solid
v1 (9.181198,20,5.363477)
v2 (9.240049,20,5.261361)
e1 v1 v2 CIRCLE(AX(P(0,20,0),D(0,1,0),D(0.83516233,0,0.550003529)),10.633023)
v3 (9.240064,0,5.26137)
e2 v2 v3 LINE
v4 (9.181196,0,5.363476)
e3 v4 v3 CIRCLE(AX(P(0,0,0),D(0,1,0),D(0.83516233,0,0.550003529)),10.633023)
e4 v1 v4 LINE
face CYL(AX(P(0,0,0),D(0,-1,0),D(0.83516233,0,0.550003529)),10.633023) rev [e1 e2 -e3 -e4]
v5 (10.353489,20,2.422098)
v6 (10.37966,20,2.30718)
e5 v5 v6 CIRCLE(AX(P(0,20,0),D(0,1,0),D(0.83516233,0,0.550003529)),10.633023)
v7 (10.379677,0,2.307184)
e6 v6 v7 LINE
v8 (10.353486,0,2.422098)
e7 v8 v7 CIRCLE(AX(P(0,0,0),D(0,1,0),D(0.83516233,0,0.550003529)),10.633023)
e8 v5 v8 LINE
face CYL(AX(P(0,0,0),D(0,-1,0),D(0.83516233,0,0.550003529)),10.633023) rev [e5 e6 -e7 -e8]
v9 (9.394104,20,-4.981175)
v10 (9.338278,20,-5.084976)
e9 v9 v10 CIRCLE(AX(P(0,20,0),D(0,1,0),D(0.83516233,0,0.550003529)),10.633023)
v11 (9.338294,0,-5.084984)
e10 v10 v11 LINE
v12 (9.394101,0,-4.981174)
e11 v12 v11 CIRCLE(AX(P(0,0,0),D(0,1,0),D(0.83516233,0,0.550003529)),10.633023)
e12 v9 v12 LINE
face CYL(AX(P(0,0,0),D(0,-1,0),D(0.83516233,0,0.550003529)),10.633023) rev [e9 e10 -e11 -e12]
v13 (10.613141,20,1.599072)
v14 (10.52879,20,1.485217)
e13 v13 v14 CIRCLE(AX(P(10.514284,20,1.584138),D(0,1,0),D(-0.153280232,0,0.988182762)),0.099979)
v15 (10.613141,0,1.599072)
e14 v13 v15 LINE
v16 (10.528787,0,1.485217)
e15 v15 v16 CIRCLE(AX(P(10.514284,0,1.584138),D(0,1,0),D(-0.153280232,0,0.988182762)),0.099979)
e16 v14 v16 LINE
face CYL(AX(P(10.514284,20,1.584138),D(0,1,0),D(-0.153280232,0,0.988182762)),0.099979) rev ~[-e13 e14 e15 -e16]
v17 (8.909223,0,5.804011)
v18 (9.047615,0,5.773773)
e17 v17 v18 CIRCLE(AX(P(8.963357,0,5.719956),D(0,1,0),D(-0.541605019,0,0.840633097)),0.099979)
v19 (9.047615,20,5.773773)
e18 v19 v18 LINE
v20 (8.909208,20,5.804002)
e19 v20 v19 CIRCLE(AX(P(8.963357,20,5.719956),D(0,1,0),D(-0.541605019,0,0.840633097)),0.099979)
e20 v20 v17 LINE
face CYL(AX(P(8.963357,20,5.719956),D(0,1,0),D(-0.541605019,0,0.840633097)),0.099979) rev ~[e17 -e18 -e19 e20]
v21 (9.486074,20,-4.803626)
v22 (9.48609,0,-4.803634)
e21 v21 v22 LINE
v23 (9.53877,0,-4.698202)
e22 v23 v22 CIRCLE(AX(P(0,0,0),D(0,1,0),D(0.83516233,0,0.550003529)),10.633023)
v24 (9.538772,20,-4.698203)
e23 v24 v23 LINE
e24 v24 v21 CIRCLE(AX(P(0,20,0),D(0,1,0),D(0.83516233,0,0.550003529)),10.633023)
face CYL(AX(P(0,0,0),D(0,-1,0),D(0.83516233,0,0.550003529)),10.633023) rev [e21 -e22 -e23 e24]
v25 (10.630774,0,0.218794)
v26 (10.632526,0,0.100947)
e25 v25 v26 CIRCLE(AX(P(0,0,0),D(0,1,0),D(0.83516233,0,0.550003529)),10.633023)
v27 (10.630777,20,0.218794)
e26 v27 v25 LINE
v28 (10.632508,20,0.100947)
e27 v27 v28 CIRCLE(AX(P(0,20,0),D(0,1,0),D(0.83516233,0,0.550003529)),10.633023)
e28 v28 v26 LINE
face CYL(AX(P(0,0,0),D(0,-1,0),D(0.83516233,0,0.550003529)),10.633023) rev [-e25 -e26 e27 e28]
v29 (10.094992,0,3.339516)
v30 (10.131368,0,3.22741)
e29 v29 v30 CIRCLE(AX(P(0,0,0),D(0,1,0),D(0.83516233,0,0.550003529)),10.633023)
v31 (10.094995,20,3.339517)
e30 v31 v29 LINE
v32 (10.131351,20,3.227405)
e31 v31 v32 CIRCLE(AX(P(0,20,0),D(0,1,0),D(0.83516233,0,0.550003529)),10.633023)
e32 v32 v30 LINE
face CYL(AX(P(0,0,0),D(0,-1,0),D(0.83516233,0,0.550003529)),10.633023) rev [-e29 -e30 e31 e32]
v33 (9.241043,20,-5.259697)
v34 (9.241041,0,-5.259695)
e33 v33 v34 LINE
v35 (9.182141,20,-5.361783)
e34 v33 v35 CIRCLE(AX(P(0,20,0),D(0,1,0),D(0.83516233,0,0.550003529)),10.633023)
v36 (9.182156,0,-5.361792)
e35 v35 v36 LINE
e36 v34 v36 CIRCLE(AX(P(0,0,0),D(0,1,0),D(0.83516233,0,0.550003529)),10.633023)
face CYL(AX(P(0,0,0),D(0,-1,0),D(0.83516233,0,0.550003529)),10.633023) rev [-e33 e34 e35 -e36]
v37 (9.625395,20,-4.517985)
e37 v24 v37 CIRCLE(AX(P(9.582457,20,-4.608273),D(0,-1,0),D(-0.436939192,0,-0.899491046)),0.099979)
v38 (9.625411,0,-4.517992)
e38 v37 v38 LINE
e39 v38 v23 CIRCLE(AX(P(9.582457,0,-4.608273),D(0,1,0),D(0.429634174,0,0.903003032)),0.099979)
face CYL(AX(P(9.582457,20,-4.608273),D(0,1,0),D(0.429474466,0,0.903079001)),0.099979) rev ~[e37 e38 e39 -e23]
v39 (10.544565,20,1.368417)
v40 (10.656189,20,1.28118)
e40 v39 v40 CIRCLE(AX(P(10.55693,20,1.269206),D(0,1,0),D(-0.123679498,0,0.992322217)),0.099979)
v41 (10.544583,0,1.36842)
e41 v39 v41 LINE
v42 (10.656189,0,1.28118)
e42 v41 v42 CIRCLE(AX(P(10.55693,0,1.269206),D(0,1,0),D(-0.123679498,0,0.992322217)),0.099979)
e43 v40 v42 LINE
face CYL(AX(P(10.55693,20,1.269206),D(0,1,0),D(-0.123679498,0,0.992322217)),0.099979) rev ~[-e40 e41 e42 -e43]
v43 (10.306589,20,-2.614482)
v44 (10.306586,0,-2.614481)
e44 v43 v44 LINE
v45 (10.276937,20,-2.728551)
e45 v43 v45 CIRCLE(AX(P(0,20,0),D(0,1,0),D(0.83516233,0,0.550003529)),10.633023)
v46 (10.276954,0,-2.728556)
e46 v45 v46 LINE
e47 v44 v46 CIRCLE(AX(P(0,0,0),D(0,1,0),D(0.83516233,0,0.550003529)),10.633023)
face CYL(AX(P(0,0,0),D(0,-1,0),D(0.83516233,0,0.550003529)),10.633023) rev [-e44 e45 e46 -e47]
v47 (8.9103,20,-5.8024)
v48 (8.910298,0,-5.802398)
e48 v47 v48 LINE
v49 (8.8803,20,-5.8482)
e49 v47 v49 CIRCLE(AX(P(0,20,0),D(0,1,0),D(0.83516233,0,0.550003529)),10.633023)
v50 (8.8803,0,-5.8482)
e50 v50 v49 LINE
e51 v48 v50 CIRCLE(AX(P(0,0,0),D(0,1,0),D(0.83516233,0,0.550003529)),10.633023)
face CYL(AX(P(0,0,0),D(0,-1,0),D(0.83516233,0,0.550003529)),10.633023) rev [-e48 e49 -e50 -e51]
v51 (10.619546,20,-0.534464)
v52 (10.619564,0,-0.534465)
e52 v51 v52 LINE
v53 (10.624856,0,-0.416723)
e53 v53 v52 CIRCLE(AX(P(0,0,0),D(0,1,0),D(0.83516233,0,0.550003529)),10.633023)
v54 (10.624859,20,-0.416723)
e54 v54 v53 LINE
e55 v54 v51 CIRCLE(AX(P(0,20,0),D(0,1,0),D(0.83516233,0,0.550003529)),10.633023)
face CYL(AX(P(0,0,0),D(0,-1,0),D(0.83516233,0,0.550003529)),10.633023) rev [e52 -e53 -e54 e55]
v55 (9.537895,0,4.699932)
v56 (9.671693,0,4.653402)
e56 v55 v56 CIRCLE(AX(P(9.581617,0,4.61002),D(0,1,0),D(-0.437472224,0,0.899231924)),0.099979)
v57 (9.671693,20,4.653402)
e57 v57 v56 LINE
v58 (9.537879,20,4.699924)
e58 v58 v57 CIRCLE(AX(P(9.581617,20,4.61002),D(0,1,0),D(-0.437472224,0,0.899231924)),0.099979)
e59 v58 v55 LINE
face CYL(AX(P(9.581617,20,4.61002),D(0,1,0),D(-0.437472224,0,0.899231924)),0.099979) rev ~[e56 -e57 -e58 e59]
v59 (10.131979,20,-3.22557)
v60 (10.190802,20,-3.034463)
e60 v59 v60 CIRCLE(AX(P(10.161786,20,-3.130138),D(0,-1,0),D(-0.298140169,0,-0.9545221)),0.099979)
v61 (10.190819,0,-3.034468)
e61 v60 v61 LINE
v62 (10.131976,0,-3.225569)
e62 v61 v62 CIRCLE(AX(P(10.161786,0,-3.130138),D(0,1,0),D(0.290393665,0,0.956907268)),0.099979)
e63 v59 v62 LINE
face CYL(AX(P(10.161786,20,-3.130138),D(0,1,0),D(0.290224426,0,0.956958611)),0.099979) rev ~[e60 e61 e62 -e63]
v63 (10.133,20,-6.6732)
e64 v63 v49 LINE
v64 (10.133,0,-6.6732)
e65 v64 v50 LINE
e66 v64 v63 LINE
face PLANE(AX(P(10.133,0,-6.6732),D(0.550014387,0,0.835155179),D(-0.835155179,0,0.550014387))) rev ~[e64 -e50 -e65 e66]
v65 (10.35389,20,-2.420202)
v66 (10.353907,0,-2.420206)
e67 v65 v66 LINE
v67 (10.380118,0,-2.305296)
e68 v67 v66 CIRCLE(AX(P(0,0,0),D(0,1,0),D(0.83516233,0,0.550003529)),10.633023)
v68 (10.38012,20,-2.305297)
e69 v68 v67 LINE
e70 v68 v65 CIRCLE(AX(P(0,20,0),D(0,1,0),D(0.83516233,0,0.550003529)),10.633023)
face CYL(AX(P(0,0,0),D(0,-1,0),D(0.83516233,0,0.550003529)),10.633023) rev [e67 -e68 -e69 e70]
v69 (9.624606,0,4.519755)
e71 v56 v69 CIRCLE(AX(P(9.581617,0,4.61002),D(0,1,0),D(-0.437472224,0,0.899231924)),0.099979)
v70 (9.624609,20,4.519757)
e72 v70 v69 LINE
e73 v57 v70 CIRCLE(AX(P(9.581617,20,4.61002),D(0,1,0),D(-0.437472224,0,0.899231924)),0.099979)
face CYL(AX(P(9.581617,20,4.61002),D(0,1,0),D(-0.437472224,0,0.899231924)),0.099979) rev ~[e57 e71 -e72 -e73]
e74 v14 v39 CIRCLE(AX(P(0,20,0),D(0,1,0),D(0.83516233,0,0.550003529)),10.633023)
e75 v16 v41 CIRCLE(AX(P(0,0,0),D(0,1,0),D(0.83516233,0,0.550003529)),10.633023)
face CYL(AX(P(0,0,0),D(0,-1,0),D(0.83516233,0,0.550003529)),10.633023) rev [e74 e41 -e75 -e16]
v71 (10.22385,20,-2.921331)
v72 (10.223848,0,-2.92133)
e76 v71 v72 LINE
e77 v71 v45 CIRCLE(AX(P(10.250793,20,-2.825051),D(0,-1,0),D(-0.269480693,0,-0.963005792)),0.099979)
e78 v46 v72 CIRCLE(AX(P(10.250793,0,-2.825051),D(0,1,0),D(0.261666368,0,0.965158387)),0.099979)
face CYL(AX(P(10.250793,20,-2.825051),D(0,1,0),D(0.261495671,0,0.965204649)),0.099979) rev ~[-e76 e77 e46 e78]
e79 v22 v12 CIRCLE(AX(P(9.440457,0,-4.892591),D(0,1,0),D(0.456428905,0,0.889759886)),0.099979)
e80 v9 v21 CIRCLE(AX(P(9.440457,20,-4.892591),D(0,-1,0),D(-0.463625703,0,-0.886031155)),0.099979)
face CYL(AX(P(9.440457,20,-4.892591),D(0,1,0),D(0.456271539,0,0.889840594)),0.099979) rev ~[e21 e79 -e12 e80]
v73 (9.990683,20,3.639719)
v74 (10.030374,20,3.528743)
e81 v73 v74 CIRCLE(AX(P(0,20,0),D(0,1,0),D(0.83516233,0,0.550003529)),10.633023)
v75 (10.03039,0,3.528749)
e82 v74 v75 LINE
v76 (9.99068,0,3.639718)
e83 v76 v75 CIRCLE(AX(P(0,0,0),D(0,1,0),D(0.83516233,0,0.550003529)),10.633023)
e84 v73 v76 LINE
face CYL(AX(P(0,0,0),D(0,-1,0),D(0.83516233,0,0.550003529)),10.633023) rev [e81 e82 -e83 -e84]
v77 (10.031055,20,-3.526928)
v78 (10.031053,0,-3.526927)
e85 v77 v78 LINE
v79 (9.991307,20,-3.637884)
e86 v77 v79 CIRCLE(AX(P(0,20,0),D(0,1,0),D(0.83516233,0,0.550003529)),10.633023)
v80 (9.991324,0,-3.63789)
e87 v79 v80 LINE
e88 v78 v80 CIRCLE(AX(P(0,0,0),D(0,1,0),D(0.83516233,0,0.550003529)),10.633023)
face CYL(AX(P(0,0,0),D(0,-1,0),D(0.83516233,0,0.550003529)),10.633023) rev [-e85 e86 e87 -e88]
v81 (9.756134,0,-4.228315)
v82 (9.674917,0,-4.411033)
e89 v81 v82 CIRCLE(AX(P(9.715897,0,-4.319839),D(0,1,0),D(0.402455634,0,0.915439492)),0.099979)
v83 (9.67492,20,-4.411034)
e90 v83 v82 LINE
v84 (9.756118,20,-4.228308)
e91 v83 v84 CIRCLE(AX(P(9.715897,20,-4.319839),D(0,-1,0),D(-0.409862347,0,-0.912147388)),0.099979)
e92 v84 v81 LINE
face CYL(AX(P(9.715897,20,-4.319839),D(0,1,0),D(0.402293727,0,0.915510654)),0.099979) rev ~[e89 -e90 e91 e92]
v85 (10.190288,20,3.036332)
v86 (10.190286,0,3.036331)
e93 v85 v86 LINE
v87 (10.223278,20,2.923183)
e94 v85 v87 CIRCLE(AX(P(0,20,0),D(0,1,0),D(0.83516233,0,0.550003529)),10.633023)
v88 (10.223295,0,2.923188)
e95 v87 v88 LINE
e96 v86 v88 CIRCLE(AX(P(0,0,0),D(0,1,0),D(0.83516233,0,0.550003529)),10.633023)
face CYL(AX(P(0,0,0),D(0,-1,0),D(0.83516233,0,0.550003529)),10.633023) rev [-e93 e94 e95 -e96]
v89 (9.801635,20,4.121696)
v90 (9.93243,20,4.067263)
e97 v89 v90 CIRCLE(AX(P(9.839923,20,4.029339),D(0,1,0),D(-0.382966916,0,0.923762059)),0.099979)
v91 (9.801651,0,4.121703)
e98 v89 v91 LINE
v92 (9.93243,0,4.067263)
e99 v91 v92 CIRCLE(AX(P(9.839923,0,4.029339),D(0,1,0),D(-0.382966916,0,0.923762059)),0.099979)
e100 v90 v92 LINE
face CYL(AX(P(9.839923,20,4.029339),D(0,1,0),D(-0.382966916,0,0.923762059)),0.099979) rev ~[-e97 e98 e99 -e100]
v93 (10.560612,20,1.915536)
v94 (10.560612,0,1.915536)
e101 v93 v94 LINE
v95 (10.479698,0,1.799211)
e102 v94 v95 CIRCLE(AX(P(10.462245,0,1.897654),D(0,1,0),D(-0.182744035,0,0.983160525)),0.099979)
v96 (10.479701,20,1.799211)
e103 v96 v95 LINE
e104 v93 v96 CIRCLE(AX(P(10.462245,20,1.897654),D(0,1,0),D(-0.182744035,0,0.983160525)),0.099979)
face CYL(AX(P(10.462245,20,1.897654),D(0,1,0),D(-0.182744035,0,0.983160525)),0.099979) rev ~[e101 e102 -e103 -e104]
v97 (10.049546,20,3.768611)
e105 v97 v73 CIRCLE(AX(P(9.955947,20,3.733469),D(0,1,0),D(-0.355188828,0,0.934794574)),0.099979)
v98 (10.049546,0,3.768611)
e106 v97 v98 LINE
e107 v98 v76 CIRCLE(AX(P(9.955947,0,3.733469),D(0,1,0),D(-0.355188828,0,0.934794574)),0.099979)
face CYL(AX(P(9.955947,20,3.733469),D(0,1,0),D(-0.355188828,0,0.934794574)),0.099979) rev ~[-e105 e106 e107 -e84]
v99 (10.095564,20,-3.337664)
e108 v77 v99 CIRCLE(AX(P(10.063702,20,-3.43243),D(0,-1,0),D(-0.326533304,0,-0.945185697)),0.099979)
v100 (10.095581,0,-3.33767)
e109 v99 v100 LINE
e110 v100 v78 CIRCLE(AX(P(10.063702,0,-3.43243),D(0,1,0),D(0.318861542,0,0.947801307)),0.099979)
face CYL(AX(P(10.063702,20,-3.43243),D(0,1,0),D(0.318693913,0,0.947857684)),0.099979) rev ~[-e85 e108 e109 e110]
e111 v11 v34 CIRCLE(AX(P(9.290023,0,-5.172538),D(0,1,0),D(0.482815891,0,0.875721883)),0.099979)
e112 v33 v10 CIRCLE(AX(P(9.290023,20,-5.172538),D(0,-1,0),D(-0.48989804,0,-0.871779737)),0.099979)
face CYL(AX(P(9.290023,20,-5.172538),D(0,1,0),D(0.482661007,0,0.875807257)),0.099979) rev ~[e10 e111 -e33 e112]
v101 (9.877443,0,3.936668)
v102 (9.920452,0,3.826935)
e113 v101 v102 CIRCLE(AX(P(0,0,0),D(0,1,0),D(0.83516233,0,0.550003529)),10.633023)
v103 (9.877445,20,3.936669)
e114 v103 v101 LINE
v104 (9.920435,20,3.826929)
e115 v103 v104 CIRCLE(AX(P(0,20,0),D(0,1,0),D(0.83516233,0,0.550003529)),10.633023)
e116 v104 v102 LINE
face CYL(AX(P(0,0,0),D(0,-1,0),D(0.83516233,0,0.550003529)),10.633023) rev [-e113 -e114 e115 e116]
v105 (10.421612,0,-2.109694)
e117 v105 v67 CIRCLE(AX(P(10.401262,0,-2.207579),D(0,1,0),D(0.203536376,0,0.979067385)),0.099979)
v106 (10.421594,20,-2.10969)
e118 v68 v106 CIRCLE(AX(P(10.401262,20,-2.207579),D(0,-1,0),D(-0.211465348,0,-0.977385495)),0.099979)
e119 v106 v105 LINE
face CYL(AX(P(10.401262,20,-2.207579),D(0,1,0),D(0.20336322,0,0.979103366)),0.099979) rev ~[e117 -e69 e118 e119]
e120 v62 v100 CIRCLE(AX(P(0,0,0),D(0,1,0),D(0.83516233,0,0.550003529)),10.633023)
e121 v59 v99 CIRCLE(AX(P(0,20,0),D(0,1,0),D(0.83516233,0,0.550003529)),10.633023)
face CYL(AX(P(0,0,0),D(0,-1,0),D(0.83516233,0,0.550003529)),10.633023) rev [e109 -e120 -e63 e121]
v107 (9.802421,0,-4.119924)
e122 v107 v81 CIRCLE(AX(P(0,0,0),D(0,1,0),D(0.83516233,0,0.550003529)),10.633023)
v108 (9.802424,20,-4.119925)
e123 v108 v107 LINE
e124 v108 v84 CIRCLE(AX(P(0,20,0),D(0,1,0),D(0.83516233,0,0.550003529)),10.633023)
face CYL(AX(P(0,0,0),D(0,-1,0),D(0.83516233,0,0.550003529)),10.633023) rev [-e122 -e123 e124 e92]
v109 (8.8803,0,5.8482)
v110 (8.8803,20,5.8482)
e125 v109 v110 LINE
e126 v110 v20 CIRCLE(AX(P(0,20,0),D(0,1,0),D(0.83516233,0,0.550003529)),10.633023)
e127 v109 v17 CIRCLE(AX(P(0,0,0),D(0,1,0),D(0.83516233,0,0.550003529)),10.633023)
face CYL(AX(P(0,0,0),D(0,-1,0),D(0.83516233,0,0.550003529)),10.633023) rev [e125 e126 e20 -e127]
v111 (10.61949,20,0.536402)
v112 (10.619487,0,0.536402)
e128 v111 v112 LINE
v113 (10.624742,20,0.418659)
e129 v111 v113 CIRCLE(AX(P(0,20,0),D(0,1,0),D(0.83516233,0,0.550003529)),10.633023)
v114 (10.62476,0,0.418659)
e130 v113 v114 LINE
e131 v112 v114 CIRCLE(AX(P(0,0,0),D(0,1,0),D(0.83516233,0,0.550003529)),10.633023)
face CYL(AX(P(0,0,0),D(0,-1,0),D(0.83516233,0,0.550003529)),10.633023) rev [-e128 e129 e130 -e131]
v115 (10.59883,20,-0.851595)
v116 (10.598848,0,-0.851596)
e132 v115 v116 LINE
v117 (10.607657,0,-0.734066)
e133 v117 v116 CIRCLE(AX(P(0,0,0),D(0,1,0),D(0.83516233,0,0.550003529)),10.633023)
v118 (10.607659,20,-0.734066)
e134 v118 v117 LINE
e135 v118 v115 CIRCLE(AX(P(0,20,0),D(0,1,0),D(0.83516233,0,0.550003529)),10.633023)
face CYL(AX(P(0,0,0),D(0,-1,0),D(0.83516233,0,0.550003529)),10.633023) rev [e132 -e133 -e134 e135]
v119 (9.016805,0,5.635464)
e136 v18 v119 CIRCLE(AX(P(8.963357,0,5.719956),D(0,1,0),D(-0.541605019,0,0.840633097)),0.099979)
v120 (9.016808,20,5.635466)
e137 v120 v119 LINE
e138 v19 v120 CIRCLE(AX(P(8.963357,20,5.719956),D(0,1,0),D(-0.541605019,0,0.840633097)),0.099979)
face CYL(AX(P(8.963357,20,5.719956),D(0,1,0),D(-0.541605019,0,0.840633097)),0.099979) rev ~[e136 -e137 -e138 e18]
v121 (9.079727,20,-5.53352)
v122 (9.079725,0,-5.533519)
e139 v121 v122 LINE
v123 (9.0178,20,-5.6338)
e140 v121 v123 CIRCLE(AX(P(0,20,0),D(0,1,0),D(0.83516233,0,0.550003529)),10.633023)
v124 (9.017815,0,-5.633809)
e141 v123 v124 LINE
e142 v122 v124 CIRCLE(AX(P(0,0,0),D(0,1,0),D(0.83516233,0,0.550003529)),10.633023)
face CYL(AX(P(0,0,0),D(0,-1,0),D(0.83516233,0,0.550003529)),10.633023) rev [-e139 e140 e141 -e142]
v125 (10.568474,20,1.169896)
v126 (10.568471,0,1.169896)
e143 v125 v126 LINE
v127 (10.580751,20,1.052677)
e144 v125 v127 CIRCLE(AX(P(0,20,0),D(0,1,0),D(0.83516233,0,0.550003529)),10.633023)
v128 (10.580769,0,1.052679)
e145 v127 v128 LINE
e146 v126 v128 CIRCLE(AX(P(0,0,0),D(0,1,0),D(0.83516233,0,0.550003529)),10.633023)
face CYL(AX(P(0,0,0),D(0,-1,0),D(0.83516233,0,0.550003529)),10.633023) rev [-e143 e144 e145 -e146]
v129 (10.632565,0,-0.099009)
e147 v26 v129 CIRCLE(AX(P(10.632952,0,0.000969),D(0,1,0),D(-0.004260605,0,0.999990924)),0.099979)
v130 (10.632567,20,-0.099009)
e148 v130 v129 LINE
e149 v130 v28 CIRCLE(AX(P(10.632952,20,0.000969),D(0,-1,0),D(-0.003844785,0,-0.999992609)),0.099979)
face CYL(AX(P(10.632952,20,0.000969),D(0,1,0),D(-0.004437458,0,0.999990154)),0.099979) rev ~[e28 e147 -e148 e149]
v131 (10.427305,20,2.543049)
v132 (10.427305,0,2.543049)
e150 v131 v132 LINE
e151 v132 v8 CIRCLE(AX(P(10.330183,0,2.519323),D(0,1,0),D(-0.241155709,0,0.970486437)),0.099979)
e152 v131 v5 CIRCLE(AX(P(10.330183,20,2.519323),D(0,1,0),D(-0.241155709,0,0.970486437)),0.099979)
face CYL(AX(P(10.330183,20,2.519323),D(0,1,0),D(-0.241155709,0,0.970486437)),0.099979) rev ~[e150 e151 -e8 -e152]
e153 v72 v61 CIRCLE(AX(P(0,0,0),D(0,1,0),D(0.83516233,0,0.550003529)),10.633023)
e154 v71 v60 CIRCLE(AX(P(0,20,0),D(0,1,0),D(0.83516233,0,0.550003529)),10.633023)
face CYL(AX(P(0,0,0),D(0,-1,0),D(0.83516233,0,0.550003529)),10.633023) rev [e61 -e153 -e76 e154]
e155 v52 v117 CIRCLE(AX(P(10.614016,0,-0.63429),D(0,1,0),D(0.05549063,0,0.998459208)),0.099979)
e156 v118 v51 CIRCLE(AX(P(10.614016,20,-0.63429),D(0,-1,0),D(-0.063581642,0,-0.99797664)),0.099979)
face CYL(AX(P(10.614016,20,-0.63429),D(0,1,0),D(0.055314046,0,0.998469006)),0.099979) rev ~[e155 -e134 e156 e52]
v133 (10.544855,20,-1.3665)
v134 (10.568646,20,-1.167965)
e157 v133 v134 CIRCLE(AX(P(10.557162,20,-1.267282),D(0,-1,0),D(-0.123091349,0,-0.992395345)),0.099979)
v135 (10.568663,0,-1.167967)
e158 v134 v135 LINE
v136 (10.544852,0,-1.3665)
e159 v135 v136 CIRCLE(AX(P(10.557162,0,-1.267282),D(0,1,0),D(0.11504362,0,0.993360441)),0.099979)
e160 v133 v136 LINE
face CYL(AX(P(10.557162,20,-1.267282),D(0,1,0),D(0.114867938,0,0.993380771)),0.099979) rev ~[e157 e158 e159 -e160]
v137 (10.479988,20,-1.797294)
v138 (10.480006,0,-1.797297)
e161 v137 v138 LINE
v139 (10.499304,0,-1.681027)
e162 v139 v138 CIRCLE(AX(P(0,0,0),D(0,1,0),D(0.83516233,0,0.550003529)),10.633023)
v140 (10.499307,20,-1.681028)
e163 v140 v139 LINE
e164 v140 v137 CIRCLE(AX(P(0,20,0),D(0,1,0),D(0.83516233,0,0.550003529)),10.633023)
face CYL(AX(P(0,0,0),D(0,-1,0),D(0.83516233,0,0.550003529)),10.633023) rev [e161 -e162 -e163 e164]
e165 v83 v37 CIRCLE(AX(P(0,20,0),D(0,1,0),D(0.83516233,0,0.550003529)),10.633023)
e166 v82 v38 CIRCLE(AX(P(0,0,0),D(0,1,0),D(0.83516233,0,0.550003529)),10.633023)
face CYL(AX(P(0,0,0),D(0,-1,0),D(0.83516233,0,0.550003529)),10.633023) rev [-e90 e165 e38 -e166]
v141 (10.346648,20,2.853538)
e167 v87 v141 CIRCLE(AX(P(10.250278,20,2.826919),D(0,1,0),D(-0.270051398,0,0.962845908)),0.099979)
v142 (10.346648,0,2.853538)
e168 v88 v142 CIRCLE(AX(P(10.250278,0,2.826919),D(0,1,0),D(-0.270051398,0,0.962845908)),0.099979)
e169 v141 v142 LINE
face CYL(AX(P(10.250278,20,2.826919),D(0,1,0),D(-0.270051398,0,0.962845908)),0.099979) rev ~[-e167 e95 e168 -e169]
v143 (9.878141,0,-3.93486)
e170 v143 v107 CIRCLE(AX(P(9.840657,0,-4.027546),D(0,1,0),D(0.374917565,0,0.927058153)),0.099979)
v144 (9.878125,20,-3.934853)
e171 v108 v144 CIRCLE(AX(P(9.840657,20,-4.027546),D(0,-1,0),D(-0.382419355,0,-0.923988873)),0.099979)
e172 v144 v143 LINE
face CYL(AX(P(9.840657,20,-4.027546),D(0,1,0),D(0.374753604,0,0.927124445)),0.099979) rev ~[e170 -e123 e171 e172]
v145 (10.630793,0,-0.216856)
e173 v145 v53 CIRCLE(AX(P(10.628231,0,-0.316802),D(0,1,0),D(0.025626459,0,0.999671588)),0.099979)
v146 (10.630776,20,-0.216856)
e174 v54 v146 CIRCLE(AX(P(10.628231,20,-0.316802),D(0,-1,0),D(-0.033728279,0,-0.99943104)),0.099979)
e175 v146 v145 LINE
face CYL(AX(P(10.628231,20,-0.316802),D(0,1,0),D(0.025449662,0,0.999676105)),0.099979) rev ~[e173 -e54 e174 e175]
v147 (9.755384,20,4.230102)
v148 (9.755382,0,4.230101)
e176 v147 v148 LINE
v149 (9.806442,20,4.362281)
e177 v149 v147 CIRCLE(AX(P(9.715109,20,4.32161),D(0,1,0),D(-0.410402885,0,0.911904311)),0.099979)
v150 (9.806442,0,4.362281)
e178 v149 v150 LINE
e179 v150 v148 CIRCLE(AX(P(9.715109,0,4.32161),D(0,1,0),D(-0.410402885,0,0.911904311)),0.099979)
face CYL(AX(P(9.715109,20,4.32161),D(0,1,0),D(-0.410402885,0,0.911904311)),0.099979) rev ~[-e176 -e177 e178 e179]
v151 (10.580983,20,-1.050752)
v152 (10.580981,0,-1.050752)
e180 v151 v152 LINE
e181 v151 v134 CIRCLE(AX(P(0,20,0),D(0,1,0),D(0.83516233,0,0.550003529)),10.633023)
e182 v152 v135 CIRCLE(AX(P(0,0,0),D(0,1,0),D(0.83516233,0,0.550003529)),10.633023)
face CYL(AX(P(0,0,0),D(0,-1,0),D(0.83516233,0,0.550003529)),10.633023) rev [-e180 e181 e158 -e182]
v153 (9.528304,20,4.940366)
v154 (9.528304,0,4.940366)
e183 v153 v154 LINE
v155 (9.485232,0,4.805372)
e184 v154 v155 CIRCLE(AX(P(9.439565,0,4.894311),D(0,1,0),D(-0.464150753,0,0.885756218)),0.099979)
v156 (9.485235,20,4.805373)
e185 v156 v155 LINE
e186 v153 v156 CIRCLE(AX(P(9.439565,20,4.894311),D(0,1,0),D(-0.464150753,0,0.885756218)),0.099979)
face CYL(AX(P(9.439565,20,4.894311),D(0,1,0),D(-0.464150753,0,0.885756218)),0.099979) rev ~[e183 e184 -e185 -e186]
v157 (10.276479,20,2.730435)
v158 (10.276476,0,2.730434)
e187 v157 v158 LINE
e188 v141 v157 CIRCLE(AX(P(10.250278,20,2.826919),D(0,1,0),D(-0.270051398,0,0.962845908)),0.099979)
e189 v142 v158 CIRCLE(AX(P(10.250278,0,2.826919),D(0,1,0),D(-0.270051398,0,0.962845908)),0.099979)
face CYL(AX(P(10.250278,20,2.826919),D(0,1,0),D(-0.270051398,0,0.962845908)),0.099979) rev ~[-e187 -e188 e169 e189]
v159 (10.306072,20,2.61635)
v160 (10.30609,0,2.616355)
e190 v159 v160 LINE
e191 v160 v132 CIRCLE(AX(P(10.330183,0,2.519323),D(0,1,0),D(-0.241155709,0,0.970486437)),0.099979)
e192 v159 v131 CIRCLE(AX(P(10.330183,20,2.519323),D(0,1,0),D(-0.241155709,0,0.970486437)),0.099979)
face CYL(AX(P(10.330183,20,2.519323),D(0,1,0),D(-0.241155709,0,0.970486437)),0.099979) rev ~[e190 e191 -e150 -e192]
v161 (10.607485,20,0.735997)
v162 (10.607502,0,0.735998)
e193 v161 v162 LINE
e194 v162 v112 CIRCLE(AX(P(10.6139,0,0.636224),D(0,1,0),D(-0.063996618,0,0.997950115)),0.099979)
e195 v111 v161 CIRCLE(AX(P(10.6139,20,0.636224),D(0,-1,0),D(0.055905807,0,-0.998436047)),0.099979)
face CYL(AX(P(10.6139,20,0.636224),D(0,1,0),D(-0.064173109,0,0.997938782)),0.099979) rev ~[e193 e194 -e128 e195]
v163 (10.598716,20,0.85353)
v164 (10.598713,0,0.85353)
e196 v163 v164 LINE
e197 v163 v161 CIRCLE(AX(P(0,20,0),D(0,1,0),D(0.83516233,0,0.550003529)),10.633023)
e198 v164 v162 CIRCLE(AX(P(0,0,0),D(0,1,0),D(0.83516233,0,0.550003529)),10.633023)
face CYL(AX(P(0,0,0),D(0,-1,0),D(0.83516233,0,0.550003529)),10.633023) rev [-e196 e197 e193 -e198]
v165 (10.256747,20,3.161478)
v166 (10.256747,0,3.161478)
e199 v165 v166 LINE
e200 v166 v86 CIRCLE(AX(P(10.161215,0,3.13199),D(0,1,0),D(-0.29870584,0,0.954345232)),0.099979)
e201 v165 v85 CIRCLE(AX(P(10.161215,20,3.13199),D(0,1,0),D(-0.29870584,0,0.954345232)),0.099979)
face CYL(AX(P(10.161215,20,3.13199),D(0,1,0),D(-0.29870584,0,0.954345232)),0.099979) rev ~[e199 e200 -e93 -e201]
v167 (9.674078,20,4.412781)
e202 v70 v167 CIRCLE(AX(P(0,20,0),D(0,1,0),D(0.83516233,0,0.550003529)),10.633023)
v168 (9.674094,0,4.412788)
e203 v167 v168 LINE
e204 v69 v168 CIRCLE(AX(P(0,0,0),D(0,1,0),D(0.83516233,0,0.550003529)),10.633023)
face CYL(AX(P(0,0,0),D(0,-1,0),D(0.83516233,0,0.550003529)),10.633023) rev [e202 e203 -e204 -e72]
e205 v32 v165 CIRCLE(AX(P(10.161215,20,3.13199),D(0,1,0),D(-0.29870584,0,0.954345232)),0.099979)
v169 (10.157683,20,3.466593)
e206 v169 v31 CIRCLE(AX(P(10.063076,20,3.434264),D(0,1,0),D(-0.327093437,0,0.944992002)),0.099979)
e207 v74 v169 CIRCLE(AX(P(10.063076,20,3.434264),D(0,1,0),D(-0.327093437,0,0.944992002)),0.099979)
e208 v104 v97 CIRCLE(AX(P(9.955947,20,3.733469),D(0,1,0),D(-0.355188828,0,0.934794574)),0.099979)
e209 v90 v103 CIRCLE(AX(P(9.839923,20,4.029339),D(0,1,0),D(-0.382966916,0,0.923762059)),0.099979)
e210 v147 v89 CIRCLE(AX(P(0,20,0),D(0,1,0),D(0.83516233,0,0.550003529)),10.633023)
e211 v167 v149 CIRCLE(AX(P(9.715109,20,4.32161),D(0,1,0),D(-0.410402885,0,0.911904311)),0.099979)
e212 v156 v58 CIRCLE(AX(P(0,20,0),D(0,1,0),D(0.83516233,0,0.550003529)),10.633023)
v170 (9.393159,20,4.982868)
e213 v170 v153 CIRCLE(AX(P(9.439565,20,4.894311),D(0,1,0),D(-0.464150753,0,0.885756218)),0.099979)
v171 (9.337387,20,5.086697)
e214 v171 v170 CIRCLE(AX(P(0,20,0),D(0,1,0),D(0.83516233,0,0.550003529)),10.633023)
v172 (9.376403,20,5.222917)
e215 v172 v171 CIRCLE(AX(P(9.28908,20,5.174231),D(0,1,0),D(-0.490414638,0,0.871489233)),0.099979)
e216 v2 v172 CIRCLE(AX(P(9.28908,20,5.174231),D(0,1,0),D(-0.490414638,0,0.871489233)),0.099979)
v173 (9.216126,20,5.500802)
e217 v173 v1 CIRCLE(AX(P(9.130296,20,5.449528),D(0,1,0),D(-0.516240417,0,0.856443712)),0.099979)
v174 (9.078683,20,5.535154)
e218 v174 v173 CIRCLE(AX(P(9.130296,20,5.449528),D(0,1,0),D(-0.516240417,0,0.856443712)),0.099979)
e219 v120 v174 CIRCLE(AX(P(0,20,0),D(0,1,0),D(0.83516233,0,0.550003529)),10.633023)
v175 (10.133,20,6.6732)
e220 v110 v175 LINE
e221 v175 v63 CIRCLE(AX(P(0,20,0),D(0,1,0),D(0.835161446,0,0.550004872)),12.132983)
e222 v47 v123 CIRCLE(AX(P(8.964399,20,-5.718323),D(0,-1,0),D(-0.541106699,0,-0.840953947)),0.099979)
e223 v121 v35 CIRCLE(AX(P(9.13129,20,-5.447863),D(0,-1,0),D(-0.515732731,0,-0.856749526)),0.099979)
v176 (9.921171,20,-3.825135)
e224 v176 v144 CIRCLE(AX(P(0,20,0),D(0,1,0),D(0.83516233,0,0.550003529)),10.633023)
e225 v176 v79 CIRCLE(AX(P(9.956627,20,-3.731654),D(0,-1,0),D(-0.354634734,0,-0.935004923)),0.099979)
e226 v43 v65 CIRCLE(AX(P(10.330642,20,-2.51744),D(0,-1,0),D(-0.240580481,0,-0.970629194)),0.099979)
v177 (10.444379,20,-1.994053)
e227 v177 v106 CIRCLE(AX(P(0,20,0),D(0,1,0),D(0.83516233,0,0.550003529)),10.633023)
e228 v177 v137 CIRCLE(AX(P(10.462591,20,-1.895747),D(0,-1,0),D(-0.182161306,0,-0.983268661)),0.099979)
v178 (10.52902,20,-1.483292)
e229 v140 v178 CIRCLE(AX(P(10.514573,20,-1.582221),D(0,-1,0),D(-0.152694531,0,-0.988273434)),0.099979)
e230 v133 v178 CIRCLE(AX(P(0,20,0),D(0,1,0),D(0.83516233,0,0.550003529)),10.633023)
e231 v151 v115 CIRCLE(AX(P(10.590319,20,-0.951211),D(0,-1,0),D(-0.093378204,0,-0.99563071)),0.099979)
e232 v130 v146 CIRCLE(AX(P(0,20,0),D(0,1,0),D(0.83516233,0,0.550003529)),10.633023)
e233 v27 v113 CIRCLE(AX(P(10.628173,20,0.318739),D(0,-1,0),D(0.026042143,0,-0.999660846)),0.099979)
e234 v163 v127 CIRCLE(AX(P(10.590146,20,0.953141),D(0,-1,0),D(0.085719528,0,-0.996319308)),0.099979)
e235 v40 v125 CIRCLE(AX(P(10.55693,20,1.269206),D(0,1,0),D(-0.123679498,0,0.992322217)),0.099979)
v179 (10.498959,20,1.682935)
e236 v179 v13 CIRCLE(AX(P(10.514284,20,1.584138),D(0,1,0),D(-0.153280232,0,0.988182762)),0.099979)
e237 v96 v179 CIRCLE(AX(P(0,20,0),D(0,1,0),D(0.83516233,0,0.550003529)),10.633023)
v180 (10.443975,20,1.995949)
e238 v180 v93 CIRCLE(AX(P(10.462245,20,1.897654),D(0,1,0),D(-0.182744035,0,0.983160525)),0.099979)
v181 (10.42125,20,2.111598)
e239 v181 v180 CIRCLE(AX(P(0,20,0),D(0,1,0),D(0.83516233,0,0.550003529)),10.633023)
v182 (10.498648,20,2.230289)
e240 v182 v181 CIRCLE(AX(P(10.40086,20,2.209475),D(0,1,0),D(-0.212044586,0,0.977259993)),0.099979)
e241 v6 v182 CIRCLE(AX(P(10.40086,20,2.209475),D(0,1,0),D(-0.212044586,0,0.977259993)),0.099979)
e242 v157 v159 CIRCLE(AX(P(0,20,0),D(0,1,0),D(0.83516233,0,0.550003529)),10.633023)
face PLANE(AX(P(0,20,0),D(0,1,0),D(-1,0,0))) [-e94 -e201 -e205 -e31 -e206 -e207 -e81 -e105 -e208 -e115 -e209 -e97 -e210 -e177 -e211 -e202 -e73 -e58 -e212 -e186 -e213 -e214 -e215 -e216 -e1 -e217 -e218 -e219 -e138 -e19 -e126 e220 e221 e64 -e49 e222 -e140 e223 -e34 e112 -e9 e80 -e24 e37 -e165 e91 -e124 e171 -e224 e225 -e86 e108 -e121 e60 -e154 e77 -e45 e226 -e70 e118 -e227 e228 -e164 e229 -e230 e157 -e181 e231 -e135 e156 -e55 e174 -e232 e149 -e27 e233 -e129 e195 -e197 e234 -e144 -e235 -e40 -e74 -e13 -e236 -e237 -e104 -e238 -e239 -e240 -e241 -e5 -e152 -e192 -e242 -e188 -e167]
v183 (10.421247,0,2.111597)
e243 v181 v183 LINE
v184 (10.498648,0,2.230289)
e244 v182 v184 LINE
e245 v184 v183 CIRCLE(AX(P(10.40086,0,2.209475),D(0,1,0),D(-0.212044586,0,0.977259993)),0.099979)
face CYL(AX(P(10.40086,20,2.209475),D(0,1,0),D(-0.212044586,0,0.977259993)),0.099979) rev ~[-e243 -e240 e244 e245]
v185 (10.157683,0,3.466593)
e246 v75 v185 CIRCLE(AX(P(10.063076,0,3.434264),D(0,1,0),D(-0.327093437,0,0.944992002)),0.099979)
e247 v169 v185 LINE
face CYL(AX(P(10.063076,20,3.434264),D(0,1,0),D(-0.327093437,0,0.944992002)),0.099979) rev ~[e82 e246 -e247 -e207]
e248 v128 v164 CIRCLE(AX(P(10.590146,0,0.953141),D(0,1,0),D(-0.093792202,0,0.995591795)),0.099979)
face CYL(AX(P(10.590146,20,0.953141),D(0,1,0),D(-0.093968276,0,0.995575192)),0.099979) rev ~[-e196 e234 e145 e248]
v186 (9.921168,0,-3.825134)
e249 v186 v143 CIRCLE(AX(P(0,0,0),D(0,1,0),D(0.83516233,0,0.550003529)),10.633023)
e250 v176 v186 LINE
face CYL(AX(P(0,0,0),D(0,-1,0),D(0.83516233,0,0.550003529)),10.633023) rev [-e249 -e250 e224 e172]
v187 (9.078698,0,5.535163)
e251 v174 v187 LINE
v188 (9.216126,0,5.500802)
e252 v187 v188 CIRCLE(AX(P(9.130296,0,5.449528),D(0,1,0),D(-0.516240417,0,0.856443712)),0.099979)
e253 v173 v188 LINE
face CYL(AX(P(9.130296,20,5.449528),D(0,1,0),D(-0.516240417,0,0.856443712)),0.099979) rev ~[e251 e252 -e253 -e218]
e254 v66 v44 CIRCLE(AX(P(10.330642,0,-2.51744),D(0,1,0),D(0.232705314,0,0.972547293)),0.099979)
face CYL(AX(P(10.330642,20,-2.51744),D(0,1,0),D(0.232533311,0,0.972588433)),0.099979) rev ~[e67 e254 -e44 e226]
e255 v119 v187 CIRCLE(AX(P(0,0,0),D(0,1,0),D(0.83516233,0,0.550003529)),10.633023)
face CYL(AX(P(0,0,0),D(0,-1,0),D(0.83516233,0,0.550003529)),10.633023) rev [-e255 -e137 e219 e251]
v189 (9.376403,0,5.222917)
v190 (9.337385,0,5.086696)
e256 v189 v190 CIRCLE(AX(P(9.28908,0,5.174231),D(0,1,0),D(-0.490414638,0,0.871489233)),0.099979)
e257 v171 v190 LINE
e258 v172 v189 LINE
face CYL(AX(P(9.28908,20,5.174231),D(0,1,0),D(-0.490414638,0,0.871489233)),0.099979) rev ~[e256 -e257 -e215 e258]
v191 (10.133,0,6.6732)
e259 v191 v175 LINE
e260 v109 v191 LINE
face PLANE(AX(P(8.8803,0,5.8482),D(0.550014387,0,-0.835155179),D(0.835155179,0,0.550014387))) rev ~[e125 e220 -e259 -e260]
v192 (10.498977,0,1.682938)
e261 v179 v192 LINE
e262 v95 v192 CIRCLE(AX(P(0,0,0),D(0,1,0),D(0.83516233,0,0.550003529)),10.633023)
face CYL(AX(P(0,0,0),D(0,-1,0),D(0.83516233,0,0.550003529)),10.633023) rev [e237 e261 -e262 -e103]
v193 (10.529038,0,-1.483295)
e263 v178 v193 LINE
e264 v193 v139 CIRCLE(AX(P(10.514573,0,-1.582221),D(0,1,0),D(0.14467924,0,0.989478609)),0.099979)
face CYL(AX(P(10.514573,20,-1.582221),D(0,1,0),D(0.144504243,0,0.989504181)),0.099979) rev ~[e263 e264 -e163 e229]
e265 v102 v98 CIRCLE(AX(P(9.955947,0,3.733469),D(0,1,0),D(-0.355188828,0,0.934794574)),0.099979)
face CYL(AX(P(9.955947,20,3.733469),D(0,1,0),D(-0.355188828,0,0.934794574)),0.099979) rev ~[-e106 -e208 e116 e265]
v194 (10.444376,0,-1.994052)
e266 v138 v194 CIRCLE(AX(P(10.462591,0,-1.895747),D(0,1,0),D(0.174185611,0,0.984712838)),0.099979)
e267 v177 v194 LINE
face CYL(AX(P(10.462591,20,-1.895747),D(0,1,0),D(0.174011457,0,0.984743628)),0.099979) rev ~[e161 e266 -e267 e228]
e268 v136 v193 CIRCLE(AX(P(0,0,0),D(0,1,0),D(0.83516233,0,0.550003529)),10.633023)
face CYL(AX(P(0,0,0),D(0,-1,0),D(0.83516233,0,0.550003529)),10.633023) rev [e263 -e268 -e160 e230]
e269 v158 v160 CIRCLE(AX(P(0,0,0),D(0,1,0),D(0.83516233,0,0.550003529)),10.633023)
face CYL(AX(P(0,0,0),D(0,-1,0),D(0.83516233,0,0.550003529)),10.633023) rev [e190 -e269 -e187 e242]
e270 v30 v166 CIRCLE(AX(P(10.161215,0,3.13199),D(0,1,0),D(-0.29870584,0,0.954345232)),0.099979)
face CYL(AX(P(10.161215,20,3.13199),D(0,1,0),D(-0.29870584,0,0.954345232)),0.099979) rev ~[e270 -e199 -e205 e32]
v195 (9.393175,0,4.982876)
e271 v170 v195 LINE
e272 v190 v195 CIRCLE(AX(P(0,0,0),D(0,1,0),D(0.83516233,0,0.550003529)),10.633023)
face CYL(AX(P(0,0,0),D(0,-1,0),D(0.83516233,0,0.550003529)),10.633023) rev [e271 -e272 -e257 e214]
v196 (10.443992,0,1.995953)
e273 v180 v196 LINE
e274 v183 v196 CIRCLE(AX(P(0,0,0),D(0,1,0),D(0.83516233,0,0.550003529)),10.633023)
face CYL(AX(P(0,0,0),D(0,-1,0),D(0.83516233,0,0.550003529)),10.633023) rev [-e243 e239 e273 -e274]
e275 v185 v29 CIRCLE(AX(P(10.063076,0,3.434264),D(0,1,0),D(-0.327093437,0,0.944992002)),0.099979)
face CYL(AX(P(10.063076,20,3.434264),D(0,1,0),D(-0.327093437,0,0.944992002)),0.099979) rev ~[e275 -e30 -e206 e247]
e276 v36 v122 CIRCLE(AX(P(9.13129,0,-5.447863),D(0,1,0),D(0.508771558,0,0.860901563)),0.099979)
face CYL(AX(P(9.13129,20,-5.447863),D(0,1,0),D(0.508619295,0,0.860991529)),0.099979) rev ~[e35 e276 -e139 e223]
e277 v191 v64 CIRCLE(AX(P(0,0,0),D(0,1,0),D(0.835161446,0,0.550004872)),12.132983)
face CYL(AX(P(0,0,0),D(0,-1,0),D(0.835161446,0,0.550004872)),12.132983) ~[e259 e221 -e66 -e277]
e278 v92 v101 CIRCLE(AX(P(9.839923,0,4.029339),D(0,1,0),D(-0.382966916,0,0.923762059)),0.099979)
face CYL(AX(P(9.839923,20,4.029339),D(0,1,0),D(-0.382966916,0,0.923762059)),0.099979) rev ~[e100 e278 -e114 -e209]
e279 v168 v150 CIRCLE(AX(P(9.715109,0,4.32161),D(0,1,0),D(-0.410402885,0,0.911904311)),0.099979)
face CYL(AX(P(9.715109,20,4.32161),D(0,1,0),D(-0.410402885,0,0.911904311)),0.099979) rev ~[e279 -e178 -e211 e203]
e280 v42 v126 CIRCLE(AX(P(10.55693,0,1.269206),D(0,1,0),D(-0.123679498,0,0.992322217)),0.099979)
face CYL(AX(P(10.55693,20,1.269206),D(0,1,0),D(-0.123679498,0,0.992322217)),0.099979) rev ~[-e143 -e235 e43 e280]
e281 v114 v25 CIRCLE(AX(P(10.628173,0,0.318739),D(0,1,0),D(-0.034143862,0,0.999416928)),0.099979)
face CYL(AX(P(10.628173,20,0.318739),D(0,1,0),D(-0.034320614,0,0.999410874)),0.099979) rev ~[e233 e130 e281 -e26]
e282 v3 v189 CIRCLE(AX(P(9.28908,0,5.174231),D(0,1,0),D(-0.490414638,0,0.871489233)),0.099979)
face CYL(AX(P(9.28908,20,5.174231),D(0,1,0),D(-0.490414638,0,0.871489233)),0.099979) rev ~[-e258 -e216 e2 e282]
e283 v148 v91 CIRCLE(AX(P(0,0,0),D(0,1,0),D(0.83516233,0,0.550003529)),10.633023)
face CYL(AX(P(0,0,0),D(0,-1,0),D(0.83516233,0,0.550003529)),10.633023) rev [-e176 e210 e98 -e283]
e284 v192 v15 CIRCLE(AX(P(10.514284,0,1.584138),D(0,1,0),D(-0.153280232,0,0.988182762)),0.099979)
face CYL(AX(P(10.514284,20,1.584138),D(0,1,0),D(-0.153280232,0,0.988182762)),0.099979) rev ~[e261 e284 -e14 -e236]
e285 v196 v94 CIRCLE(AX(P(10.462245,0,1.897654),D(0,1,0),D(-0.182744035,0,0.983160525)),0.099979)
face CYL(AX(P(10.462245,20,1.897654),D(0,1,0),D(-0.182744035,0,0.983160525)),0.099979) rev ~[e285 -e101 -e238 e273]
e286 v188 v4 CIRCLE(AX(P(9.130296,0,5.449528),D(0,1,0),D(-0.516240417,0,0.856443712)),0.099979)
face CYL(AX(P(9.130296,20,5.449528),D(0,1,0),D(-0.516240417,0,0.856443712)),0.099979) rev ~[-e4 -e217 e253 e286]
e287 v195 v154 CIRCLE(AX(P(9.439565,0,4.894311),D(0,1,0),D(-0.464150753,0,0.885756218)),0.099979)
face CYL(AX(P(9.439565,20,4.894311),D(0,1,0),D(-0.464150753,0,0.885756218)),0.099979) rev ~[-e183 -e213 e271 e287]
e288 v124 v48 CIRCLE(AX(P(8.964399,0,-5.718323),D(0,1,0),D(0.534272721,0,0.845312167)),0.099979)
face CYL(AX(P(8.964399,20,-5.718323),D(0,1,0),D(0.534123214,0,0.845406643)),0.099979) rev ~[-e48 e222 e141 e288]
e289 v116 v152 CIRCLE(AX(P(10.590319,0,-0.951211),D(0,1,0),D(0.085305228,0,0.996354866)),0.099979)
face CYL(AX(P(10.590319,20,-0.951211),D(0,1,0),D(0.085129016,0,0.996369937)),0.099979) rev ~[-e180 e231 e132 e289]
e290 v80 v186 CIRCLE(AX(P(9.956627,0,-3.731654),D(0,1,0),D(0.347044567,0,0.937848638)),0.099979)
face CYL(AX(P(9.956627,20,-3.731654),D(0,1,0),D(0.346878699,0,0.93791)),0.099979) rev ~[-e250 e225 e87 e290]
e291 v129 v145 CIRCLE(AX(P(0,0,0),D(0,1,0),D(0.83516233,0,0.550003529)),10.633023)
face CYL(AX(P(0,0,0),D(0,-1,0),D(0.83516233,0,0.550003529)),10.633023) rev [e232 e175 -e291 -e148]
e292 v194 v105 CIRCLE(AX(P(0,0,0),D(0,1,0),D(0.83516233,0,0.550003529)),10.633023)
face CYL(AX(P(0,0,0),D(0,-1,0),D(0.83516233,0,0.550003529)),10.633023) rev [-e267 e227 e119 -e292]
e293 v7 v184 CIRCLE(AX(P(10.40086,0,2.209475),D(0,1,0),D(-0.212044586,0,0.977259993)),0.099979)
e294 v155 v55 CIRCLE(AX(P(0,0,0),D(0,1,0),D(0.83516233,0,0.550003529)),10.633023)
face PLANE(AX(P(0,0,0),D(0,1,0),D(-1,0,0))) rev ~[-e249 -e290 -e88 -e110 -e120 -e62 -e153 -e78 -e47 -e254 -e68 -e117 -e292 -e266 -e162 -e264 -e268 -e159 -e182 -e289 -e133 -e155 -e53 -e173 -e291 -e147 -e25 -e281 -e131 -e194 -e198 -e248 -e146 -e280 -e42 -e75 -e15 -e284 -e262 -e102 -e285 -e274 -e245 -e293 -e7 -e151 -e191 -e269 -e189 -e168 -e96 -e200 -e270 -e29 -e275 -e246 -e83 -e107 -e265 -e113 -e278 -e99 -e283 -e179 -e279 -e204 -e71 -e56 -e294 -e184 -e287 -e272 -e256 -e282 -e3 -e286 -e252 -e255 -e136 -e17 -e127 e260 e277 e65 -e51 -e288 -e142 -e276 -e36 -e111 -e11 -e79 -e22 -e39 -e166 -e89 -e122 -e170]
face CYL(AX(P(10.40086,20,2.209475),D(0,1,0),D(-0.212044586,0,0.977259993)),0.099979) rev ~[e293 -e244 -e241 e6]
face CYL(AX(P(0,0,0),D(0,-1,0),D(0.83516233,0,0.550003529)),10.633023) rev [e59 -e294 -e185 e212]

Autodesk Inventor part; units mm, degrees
ref_plane "YZ Plane" through (0, 0, 0) normal (1, 0, 0) x (0, 1, 0)
ref_plane "XZ Plane" through (0, 0, 0) normal (0, 1, 0) x (-1, 0, 0)
ref_plane "XY Plane" through (0, 0, 0) normal (0, 0, 1) x (1, 0, 0)
sketch "Sketch1" plane through (0, 0, 0) normal (0, 1, 0) x (-1, 0, 0)
  arc A0 (-10.133, 6.6732) -> (-10.133, -6.6732) centre (0, 0) ccw
  line L0 (-10.133, -6.6732) -> (-8.8803, -5.8482)
  line L1 (-8.8803, 5.8482) -> (-10.133, 6.6732)
  arc A1 (-8.8803, 5.8482) -> (-8.8803, -5.8482) centre (0, 0) ccw
  point P0 (-12.133, 0)
  dimension "d0" = 12.133
  dimension "d2" = 12.133
  dimension "d3" = 0
  dimension "d5" = 2
  dimension "d6" = 2
  dimension "d7" = 1.5
extrude "Extrusion1" add sketch "Sketch1" along normal blind 20
sketch "Sketch2" plane through (0, 20, 0) normal (0, 1, 0) x (1, 0, 0)
  arc A0 (8.8803, -5.8482) -> (8.8803, 5.8482) centre (0, 0) ccw projected
  arc A1 (9.0178, 5.6338) -> (8.9103, 5.8024) centre (8.9645, 5.7183) ccw
  line L0 (0, 0) -> (10, 0)
  line L1 (10.133, 6.6732) -> (8.8803, 5.8482) projected
  line L2 (0, 0) -> (16.8616, 10.7558)
  dimension "d11" = 0.1
  dimension "d12" = 10
  dimension "d13" = 33.367
  dimension "d14" = 20
  dimension "d15" = 0.834
extrude "Extrusion2" cut sketch "Sketch2" against normal through all
pattern_circular "Circular Pattern1" count 40 over 66.79 about axis through (0, -10, 0) along (0, -1, 0) of "Extrusion2"
equation "\"d0\" = r"
equation "\"d2\" = d0"
equation "\"d5\" = segment"
equation "\"d6\" = segment"
equation "\"d7\" = t"
equation "\"segment\" = 2"
equation "\"t\" = 1.5"
equation "\"r\" = 12.133"
properties part number "holder3_cushion" material "Steel, Mild"
